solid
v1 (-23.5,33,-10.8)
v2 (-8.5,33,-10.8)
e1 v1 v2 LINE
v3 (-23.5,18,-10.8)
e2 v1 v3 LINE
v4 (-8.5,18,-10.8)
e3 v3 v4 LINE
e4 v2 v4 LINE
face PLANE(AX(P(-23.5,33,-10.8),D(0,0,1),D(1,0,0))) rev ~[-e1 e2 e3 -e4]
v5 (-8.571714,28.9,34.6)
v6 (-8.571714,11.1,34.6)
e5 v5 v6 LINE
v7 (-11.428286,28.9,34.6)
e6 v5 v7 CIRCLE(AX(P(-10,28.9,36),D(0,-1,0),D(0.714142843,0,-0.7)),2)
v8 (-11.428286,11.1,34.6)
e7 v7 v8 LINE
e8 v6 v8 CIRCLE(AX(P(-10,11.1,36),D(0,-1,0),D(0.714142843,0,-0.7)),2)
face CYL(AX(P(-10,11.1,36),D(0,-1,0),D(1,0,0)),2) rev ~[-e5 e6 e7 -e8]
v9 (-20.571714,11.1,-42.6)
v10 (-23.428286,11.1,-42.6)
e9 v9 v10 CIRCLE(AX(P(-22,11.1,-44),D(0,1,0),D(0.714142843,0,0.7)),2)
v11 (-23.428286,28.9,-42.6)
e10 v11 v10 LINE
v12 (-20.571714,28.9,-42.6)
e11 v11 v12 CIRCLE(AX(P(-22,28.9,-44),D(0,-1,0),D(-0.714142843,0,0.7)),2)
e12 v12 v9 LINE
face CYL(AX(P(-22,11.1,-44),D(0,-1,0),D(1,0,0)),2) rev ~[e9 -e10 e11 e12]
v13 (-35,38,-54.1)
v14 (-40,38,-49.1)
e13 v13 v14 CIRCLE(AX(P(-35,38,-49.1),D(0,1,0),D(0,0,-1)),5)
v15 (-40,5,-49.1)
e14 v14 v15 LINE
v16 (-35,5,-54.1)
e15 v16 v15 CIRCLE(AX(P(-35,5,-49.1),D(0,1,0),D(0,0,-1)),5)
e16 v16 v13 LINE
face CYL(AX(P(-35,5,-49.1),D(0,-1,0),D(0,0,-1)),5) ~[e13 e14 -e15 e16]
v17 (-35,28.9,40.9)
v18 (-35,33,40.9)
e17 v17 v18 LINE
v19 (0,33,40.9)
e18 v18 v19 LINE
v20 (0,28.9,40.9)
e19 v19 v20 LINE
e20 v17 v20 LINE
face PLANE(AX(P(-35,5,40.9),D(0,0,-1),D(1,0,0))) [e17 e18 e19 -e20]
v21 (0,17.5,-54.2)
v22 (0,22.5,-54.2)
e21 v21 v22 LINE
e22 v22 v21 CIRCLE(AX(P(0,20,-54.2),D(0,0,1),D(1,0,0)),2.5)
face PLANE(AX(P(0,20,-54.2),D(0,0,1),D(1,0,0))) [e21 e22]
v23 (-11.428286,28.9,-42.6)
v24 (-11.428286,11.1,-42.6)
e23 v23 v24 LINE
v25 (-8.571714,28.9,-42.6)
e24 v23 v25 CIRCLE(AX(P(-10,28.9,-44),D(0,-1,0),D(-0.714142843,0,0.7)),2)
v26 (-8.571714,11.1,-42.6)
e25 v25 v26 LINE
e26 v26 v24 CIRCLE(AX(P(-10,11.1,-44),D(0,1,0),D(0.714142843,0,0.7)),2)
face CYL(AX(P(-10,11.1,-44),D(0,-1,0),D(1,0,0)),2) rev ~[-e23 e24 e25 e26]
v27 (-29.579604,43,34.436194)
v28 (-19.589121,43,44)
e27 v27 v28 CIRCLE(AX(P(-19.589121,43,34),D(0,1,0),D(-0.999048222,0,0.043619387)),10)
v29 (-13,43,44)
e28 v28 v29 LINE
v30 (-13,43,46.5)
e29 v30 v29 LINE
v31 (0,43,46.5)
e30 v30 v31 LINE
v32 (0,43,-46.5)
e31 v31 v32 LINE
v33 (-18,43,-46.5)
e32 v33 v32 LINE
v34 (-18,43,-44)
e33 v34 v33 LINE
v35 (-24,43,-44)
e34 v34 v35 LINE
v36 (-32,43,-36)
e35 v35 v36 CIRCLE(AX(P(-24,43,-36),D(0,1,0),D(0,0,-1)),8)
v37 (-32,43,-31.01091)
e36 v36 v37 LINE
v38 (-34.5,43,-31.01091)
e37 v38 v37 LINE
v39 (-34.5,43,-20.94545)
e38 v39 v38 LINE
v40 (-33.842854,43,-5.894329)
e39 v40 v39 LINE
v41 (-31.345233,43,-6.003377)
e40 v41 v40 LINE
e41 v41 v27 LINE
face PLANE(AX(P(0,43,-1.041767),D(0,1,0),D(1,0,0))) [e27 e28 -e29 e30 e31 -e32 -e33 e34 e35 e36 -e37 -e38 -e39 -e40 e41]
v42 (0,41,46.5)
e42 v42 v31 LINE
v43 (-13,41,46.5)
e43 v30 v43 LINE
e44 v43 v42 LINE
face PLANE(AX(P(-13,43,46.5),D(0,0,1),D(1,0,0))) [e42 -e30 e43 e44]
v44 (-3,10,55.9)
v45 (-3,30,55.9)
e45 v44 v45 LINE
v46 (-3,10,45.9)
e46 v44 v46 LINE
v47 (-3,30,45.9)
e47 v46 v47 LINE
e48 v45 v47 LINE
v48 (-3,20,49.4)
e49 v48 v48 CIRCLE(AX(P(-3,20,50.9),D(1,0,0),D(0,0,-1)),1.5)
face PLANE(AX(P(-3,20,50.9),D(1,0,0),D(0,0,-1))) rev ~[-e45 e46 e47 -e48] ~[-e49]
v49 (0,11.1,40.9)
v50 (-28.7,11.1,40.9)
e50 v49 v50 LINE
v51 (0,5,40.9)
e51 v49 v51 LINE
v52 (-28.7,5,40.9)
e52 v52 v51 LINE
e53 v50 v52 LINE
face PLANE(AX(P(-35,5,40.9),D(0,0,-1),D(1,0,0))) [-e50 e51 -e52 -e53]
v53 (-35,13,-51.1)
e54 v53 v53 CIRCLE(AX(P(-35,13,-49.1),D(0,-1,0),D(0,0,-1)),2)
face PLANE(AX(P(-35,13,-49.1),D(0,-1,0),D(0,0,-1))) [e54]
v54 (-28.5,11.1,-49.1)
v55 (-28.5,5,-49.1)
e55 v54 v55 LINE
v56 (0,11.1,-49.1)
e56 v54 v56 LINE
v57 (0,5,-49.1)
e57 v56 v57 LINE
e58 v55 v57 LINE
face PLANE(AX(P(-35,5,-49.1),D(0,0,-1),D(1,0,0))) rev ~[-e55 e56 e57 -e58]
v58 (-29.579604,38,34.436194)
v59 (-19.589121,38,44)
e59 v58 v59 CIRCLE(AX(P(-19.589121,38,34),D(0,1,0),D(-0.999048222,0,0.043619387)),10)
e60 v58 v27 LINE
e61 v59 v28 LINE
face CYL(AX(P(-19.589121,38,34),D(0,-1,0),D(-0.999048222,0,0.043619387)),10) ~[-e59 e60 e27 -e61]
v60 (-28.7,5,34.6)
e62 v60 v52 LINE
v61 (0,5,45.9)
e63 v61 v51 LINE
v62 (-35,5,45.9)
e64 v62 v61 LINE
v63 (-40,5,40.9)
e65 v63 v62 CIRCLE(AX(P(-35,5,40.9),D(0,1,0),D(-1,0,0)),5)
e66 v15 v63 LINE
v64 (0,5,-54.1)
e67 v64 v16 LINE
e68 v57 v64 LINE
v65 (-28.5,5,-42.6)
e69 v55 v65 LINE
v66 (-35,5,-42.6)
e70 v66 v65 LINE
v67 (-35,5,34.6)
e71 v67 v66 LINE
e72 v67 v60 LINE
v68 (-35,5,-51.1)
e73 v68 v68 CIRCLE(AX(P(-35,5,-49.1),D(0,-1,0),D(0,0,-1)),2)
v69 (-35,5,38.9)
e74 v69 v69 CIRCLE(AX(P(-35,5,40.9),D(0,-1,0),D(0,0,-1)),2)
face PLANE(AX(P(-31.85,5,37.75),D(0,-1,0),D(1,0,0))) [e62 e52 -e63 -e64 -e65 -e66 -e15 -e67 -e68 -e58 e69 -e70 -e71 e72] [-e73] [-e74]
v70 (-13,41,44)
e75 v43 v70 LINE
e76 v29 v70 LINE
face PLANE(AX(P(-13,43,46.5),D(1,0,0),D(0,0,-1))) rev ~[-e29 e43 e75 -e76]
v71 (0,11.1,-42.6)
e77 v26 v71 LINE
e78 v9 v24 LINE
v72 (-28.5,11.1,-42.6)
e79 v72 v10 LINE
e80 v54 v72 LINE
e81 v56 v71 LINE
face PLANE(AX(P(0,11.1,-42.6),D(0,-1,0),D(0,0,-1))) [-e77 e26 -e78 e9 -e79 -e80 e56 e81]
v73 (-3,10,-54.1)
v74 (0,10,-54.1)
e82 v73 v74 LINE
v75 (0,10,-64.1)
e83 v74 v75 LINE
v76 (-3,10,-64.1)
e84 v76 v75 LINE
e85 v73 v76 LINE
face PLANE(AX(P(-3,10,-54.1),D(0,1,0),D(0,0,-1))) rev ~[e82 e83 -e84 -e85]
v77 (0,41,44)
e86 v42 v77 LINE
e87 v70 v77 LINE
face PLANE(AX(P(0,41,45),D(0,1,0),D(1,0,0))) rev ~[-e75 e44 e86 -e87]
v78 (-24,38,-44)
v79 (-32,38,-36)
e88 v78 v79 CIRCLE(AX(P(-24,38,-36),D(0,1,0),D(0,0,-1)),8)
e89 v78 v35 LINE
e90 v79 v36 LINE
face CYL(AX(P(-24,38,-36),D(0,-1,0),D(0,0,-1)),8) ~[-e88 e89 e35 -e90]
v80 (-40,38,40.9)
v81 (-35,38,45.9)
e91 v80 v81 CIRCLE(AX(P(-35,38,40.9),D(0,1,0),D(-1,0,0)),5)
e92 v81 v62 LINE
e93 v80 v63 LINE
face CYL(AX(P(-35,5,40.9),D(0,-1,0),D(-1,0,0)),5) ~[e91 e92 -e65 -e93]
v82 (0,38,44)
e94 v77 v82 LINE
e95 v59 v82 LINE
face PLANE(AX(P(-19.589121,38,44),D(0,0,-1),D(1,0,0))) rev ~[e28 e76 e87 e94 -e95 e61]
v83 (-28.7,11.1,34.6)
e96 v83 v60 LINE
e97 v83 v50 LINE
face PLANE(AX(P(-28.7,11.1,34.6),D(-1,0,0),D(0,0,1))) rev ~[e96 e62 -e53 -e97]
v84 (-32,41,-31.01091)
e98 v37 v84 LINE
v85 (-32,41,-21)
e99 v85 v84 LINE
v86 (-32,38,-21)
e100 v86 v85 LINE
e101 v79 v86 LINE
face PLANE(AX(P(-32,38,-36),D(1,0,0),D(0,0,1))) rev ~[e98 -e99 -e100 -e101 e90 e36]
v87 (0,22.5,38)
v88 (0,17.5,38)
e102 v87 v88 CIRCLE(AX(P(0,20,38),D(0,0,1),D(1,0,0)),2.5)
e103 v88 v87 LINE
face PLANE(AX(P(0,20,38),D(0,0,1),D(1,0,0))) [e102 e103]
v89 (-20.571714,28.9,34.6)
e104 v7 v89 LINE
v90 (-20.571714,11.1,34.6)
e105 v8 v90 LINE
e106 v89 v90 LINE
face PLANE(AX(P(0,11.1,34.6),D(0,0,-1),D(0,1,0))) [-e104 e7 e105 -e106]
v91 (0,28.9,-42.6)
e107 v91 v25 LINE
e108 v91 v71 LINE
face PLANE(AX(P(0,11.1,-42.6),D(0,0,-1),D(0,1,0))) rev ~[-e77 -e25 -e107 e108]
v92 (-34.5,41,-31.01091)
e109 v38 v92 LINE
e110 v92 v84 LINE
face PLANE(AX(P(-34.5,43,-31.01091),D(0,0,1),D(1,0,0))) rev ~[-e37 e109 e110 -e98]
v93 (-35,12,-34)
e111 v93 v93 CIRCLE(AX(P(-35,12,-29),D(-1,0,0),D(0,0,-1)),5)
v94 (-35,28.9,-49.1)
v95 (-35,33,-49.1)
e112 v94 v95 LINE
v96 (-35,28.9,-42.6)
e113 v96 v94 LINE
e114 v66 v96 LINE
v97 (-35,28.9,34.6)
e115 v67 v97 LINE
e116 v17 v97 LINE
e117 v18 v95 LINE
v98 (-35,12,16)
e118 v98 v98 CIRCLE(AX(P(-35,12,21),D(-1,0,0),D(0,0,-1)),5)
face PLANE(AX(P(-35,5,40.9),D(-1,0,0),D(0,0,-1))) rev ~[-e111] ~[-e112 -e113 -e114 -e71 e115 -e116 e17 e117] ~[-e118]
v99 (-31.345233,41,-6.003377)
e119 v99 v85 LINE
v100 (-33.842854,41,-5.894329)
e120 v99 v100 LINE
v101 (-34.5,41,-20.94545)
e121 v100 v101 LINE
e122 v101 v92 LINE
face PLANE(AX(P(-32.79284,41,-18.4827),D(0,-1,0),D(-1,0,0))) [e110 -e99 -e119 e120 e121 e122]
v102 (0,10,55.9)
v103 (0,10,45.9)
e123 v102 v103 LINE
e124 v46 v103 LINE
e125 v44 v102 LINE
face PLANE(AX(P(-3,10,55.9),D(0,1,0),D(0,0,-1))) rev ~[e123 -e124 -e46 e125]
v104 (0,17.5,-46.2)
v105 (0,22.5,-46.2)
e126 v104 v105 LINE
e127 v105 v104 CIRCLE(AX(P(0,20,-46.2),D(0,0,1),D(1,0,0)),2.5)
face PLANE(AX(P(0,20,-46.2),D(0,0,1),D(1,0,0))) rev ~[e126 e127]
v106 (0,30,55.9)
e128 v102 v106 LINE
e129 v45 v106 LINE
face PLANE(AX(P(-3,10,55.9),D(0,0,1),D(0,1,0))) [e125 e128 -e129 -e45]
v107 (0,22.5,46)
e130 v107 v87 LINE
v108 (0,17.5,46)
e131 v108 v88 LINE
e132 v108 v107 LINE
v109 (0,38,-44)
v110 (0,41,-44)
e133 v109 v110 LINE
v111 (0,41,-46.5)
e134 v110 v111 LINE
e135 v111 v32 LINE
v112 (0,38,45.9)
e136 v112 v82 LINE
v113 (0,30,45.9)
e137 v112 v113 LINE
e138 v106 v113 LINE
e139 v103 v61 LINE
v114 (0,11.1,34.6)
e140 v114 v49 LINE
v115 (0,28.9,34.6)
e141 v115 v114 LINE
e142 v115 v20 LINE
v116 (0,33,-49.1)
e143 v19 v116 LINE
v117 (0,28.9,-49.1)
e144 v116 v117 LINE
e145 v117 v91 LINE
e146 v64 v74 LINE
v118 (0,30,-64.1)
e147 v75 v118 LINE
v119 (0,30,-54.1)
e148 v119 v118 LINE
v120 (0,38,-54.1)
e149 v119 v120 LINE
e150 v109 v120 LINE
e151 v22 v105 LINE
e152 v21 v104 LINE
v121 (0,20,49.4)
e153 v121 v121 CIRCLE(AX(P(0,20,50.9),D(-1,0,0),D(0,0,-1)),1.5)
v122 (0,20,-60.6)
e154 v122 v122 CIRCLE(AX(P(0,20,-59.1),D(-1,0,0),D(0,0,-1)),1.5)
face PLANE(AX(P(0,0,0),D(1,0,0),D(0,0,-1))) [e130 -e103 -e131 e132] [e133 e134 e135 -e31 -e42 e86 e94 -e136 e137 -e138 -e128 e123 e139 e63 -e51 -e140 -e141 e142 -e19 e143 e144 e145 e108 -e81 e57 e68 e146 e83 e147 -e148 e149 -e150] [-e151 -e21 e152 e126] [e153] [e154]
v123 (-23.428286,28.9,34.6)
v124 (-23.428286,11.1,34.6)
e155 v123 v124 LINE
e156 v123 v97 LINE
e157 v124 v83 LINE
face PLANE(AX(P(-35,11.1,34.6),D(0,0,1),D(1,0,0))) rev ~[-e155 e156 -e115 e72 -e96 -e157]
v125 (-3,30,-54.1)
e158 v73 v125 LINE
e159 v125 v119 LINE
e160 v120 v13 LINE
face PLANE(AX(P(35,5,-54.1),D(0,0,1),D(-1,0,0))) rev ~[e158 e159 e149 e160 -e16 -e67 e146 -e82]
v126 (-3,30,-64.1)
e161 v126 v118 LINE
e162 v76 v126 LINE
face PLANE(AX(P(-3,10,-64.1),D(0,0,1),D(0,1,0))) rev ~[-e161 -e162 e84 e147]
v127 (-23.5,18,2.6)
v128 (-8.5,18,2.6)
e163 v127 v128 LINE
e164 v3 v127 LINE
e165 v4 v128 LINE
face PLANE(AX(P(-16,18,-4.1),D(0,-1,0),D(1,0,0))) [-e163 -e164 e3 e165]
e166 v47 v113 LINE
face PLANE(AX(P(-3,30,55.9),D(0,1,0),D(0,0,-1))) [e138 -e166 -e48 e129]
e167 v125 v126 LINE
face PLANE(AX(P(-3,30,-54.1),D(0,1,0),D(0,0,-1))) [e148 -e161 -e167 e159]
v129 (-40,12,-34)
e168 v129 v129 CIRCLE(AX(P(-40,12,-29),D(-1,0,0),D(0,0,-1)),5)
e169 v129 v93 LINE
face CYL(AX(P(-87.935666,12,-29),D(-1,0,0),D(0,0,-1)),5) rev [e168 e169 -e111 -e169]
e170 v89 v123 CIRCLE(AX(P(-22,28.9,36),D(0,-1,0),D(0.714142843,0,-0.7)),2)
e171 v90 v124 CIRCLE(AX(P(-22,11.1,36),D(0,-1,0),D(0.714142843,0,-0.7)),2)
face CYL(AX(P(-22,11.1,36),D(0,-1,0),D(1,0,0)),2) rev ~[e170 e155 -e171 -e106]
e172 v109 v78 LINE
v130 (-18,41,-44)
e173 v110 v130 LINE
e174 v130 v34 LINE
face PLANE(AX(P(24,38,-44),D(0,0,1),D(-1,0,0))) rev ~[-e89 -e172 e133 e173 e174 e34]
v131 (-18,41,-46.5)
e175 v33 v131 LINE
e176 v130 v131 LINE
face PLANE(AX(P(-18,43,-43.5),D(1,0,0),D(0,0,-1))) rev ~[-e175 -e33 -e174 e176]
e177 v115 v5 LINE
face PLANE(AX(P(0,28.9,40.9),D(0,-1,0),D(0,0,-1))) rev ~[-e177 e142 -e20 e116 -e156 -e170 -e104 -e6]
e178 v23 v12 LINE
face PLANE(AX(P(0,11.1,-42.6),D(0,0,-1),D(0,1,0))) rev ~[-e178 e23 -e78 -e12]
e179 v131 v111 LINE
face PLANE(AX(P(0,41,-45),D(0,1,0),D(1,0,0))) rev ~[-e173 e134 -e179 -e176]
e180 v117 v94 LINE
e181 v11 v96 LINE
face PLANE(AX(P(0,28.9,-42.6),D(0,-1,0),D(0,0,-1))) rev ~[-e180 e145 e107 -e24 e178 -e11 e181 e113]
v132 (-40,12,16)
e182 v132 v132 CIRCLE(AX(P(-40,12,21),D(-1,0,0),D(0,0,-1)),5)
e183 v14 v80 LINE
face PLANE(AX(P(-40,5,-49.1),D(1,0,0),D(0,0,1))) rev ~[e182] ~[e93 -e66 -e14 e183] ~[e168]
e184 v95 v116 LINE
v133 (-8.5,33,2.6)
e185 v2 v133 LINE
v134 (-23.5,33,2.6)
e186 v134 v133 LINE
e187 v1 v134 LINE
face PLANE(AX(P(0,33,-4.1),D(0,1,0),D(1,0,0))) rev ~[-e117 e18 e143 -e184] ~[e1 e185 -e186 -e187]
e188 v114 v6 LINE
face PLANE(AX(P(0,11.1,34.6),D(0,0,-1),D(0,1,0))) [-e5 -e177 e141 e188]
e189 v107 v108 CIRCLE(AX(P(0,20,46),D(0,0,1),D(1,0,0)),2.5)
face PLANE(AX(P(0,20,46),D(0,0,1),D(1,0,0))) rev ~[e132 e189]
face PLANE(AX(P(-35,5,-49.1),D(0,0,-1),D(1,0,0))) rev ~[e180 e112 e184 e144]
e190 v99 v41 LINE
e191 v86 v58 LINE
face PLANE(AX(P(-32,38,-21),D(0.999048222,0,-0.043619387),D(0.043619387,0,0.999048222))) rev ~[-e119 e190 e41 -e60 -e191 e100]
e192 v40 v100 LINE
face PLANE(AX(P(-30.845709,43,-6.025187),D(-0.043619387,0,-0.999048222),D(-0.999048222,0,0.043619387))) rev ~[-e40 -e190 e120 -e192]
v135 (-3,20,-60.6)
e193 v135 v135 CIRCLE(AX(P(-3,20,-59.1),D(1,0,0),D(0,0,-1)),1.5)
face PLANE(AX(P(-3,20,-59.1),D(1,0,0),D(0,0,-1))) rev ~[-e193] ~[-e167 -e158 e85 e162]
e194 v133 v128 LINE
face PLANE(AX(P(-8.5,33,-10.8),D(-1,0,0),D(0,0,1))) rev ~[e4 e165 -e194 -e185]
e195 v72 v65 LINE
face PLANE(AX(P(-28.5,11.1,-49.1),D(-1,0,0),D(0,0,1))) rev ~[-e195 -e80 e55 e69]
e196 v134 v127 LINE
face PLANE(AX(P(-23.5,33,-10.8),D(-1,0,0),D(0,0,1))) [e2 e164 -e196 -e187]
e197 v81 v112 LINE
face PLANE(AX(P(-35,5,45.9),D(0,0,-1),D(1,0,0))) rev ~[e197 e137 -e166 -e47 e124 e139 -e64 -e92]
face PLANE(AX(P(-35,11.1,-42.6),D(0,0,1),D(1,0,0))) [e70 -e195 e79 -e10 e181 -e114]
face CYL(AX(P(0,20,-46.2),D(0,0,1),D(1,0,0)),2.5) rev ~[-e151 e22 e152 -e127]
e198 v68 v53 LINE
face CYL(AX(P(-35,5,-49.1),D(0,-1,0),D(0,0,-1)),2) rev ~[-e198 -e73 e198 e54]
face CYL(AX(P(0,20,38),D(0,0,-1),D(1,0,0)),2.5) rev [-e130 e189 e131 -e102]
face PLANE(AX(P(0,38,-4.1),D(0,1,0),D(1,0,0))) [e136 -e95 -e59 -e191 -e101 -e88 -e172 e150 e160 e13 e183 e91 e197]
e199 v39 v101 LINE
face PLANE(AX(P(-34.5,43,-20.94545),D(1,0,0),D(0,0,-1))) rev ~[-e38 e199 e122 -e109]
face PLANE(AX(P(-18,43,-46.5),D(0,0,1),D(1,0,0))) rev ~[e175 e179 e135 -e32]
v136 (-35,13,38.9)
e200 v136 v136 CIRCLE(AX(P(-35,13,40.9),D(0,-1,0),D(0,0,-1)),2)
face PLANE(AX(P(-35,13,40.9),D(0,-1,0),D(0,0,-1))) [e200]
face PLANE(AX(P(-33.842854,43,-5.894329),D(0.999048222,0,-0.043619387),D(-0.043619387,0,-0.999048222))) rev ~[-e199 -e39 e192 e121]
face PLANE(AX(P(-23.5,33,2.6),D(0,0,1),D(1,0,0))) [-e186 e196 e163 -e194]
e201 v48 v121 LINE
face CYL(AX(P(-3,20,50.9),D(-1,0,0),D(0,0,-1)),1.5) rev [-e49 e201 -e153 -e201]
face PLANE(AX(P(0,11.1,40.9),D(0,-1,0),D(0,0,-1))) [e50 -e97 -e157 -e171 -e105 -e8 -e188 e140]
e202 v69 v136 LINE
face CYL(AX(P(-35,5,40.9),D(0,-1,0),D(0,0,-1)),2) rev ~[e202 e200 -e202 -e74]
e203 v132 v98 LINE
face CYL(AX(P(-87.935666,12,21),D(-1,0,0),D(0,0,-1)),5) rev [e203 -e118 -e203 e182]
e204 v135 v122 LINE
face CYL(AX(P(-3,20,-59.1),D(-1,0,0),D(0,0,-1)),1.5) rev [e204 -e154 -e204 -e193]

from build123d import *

# Parameters (mm, degrees)
SKETCH8_R                        = 10
BOSS_EXTRUDE6_DEPTH              = 5
BOSS_EXTRUDE7_START              = 5
BOSS_EXTRUDE7_DEPTH              = 5
EXTRUDE_THIN4_DEPTH              = 8
EXTRUDE_THIN4_DEPTH_BACK         = 20
SKETCH2_W                        = 70
SKETCH2_H                        = 90
BOSS_EXTRUDE8_DEPTH              = 5
BOSS_EXTRUDE9_DEPTH              = 5
BOSS_EXTRUDE10_REACH             = 81.849
SKETCH13_W                       = 6.5
SKETCH13_H                       = 17.8
SKETCH13_W_2                     = 6.3
BOSS_EXTRUDE10_DIRECTION_2_REACH = 81.849
SKETCH15_R                       = 2
CUT_EXTRUDE1_DEPTH               = 17.8
SKETCH17_W                       = 36
SKETCH17_H                       = 3
SKETCH17_W_2                     = 26
BOSS_EXTRUDE11_DEPTH             = 2
SKETCH18_W                       = 36
SKETCH18_H                       = 3
SKETCH18_W_2                     = 26
BOSS_EXTRUDE12_DEPTH             = 2
BOSS_EXTRUDE13_DEPTH             = 3
BOSS_EXTRUDE13_DEPTH_BACK        = 3
SKETCH19_W                       = 10
SKETCH19_H                       = 20
SKETCH19_R                       = 1.5
SKETCH21_R                       = 2.5
CUT_EXTRUDE5_DEPTH               = 8
SKETCH23_R                       = 2.5
CUT_EXTRUDE6_DEPTH               = 8
SKETCH24_W                       = 150
SKETCH24_H                       = 150
CUT_EXTRUDE7_DEPTH               = 85.574286873
SKETCH25_W                       = 150
SKETCH25_H                       = 150
CUT_EXTRUDE8_DEPTH               = 87.935665869
SKETCH26_W                       = 6.3
SKETCH26_H                       = 6.3
SKETCH26_W_2                     = 6.5
SKETCH26_H_2                     = 6.5
BOSS_EXTRUDE14_DEPTH             = 6.1
SKETCH27_R                       = 2
CUT_EXTRUDE9_DEPTH               = 8
SKETCH28_W                       = 15
SKETCH28_H                       = 13.4
BOSS_EXTRUDE15_DEPTH             = 15
CUT_EXTRUDE10_DEPTH              = 87.935665869
CUT_EXTRUDE10_DEPTH_BACK         = 87.935665869
SKETCH29_R                       = 5


with BuildPart() as part:
    # Sketch8 → Boss-Extrude6 (new body)
    with BuildSketch(Plane(origin=(0, 0, 0), x_dir=(-1, 0, 0), z_dir=(0, 1, 0))):
        with BuildLine():
            Line((32, -36), (32, -21))
            Line((32, -21), (29.579603504, 34.436193874))
            ThreePointArc((29.579603504, 34.436193874), (26.504251846, 41.223639621), (19.589121288, 44))
            Line((19.589121288, 44), (-19.589121288, 44))
            ThreePointArc((-19.589121288, 44), (-26.504251846, 41.223639621), (-29.579603504, 34.436193874))
            Line((-29.579603504, 34.436193874), (-32, -21))
            Line((-32, -21), (-32, -36))
            ThreePointArc((-32, -36), (-29.656854249, -41.656854249), (-24, -44))
            Line((-24, -44), (24, -44))
            ThreePointArc((24, -44), (29.656854249, -41.656854249), (32, -36))
        make_face()
        with Locations(Location((15.9, 11.8, 0), (0, 0, 90))):
            Circle(SKETCH8_R, mode=Mode.SUBTRACT)
        with Locations(Location((-15.9, 11.8, 0), (0, 0, 90))):
            Circle(SKETCH8_R, mode=Mode.SUBTRACT)
        with Locations(Location((15.9, -20, 0), (0, 0, 90))):
            Circle(SKETCH8_R, mode=Mode.SUBTRACT)
        with Locations(Location((-15.9, -20, 0), (0, 0, 90))):
            Circle(SKETCH8_R, mode=Mode.SUBTRACT)
    extrude(amount=-BOSS_EXTRUDE6_DEPTH)

    # Sketch1 → Boss-Extrude7 (add)
    # profile 1 of 2: a face of its own
    with BuildSketch(Plane(origin=(0, 0, 0), x_dir=(1, 0, 0), z_dir=(0, 1, 0)).offset(BOSS_EXTRUDE7_START)):
        with BuildLine():
            Line((-35, 54.1), (35, 54.1))
            ThreePointArc((35, 54.1), (38.535533906, 52.635533906), (40, 49.1))
            Line((40, 49.1), (40, -40.9))
            ThreePointArc((40, -40.9), (38.535533906, -44.435533906), (35, -45.9))
            Line((35, -45.9), (-35, -45.9))
            ThreePointArc((-35, -45.9), (-38.535533906, -44.435533906), (-40, -40.9))
            Line((-40, -40.9), (-40, 49.1))
            ThreePointArc((-40, 49.1), (-38.535533906, 52.635533906), (-35, 54.1))
        make_face()
        with BuildLine():
            ThreePointArc((32, 36), (29.656854249, 41.656854249), (24, 44))
            Line((24, 44), (-24, 44))
            ThreePointArc((-24, 44), (-29.656854249, 41.656854249), (-32, 36))
            Line((-32, 36), (-32, 21))
            Line((-32, 21), (-29.579603504, -34.436193874))
            ThreePointArc((-29.579603504, -34.436193874), (-26.504251846, -41.223639621), (-19.589121288, -44))
            Line((-19.589121288, -44), (19.589121288, -44))
            ThreePointArc((19.589121288, -44), (26.504251846, -41.223639621), (29.579603504, -34.436193874))
            Line((29.579603504, -34.436193874), (32, 21))
            Line((32, 21), (32, 36))
        make_face(mode=Mode.SUBTRACT)
    # profile 2 of 2: a face of its own
    with BuildSketch(Plane(origin=(0, 0, 0), x_dir=(1, 0, 0), z_dir=(0, 1, 0)).offset(BOSS_EXTRUDE7_START)):
        with BuildLine():
            Line((32, 36), (32, 21))
            Line((32, 21), (29.579603504, -34.436193874))
            ThreePointArc((29.579603504, -34.436193874), (26.504251846, -41.223639621), (19.589121288, -44))
            Line((19.589121288, -44), (-19.589121288, -44))
            ThreePointArc((-19.589121288, -44), (-26.504251846, -41.223639621), (-29.579603504, -34.436193874))
            Line((-29.579603504, -34.436193874), (-32, 21))
            Line((-32, 21), (-32, 36))
            ThreePointArc((-32, 36), (-29.656854249, 41.656854249), (-24, 44))
            Line((-24, 44), (24, 44))
            ThreePointArc((24, 44), (29.656854249, 41.656854249), (32, 36))
        make_face()
        with BuildLine():
            ThreePointArc((-24, 41), (-27.535533906, 39.535533906), (-29, 36))
            Line((-29, 36), (-29, 21.065460233))
            Line((-29, 21.065460233), (-26.582458839, -34.305335712))
            ThreePointArc((-26.582458839, -34.305335712), (-24.429712679, -39.056547734), (-19.589121288, -41))
            Line((-19.589121288, -41), (19.589121288, -41))
            ThreePointArc((19.589121288, -41), (24.429712679, -39.056547734), (26.582458839, -34.305335712))
            Line((26.582458839, -34.305335712), (29, 21.065460233))
            Line((29, 21.065460233), (29, 36))
            ThreePointArc((29, 36), (27.535533906, 39.535533906), (24, 41))
            Line((24, 41), (-24, 41))
        make_face(mode=Mode.SUBTRACT)
    extrude(amount=-BOSS_EXTRUDE7_DEPTH)

    # Sketch17 → Boss-Extrude11 (add)
    with BuildSketch(Plane(origin=(0, -5, 0), x_dir=(1, 0, 0), z_dir=(0, 1, 0))):
        with Locations((0, 45)):
            Rectangle(SKETCH17_W, SKETCH17_H)
        with Locations((0, -45)):
            Rectangle(SKETCH17_W_2, SKETCH17_H)
        Polygon((-31.5, 21.010910039), (-30.84570919, 6.025186715), (-33.842853854, 5.894328553), (-34.5, 20.945449806), (-34.5, 31.010910039), (-31.5, 31.010910039), align=None)
        Polygon((31.5, 21.010910039), (31.5, 31.010910039), (34.5, 31.010910039), (34.5, 20.945449806), (33.842853854, 5.894328553), (30.84570919, 6.025186715), align=None)
    extrude(amount=BOSS_EXTRUDE11_DEPTH)

    # Sketch24 → Cut-Extrude7 (cut, through all)
    with BuildSketch(Plane(origin=(0, 5, 0), x_dir=(1, 0, 0), z_dir=(0, 1, 0))):
        Rectangle(SKETCH24_W, SKETCH24_H)
    extrude(amount=-CUT_EXTRUDE7_DEPTH, mode=Mode.SUBTRACT)


with BuildPart() as body_2:
    # Sketch2 → Extrude-Thin4 (new, two sides: drawn at the far end of the back side and taken through both)
    with BuildSketch(Plane(origin=(0, 25, 0), x_dir=(1, 0, 0), z_dir=(0, 1, 0)).offset(-EXTRUDE_THIN4_DEPTH_BACK)):
        with BuildLine():
            Line((-40, 49.1), (-40, -40.9))
            ThreePointArc((-40, -40.9), (-38.535533906, -44.435533906), (-35, -45.9))
            Line((-35, -45.9), (35, -45.9))
            ThreePointArc((35, -45.9), (38.535533906, -44.435533906), (40, -40.9))
            Line((40, -40.9), (40, 49.1))
            ThreePointArc((40, 49.1), (38.535533906, 52.635533906), (35, 54.1))
            Line((35, 54.1), (-35, 54.1))
            ThreePointArc((-35, 54.1), (-38.535533906, 52.635533906), (-40, 49.1))
        make_face()
        with Locations((0, 4.1)):
            Rectangle(SKETCH2_W, SKETCH2_H, mode=Mode.SUBTRACT)
    extrude(amount=EXTRUDE_THIN4_DEPTH + EXTRUDE_THIN4_DEPTH_BACK)

    # Sketch13 → Boss-Extrude10 (add, up to next)
    with BuildSketch(Plane(origin=(0, 0, 0), x_dir=(0, 0, -1), z_dir=(1, 0, 0)), mode=Mode.PRIVATE) as boss_extrude10_sk1:
        with Locations((45.85, 20)):
            Rectangle(SKETCH13_W, SKETCH13_H)
    boss_extrude10_tool1 = extrude(boss_extrude10_sk1.sketch, amount=BOSS_EXTRUDE10_REACH, mode=Mode.PRIVATE) - body_2.part
    # Sketch13 → Boss-Extrude10 (add, up to next)
    with BuildSketch(Plane(origin=(0, 0, 0), x_dir=(0, 0, -1), z_dir=(1, 0, 0)), mode=Mode.PRIVATE) as boss_extrude10_sk2:
        with Locations((-37.75, 20)):
            Rectangle(SKETCH13_W_2, SKETCH13_H)
    boss_extrude10_tool2 = extrude(boss_extrude10_sk2.sketch, amount=BOSS_EXTRUDE10_REACH, mode=Mode.PRIVATE) - body_2.part
    add(boss_extrude10_tool1.solids().sort_by_distance((0, 20, -45.85))[0])
    add(boss_extrude10_tool2.solids().sort_by_distance((0, 20, 37.75))[0])

    # Sketch13 → Boss-Extrude10 direction 2 (add, up to next)
    with BuildSketch(Plane(origin=(0, 0, 0), x_dir=(0, 0, -1), z_dir=(1, 0, 0)), mode=Mode.PRIVATE) as boss_extrude10_direction_2_sk1:
        with Locations((45.85, 20)):
            Rectangle(SKETCH13_W, SKETCH13_H)
    boss_extrude10_direction_2_tool1 = extrude(boss_extrude10_direction_2_sk1.sketch, amount=-BOSS_EXTRUDE10_DIRECTION_2_REACH, mode=Mode.PRIVATE) - body_2.part
    # Sketch13 → Boss-Extrude10 direction 2 (add, up to next)
    with BuildSketch(Plane(origin=(0, 0, 0), x_dir=(0, 0, -1), z_dir=(1, 0, 0)), mode=Mode.PRIVATE) as boss_extrude10_direction_2_sk2:
        with Locations((-37.75, 20)):
            Rectangle(SKETCH13_W_2, SKETCH13_H)
    boss_extrude10_direction_2_tool2 = extrude(boss_extrude10_direction_2_sk2.sketch, amount=-BOSS_EXTRUDE10_DIRECTION_2_REACH, mode=Mode.PRIVATE) - body_2.part
    add(boss_extrude10_direction_2_tool1.solids().sort_by_distance((0, 20, -45.85))[0])
    add(boss_extrude10_direction_2_tool2.solids().sort_by_distance((0, 20, 37.75))[0])

    # Sketch15 → Cut-Extrude1 (cut)
    with BuildSketch(Plane.XZ.offset(-11.1)):
        with Locations((-22, -44)):
            Circle(SKETCH15_R)
        with Locations((-10, -44)):
            Circle(SKETCH15_R)
        with Locations((-22, 36)):
            Circle(SKETCH15_R)
        with Locations((-10, 36)):
            Circle(SKETCH15_R)
        with Locations((10, 36)):
            Circle(SKETCH15_R)
        with Locations((22, 36)):
            Circle(SKETCH15_R)
        with Locations((10, -44)):
            Circle(SKETCH15_R)
        with Locations((22, -44)):
            Circle(SKETCH15_R)
    extrude(amount=-CUT_EXTRUDE1_DEPTH, mode=Mode.SUBTRACT)

    # Sketch19 → Boss-Extrude13 (add, two sides: drawn at the far end of the back side and taken through both)
    # profile 1 of 2: a face of its own
    with BuildSketch(Plane(origin=(0, 0, 0), x_dir=(0, 0, -1), z_dir=(1, 0, 0)).offset(-BOSS_EXTRUDE13_DEPTH_BACK)):
        with Locations((-50.9, 20)):
            Rectangle(SKETCH19_W, SKETCH19_H)
        with Locations((-50.9, 20)):
            Circle(SKETCH19_R, mode=Mode.SUBTRACT)
    # profile 2 of 2: a face of its own
    with BuildSketch(Plane(origin=(0, 0, 0), x_dir=(0, 0, -1), z_dir=(1, 0, 0)).offset(-BOSS_EXTRUDE13_DEPTH_BACK)):
        with Locations((59.1, 20)):
            Rectangle(SKETCH19_W, SKETCH19_H)
        with Locations((59.1, 20)):
            Circle(SKETCH19_R, mode=Mode.SUBTRACT)
    extrude(amount=BOSS_EXTRUDE13_DEPTH + BOSS_EXTRUDE13_DEPTH_BACK)

    # Sketch21 → Cut-Extrude5 (cut)
    with BuildSketch(Plane.XY.offset(38)):
        with Locations((0, 20)):
            Circle(SKETCH21_R)
    extrude(amount=CUT_EXTRUDE5_DEPTH, mode=Mode.SUBTRACT)

    # Sketch23 → Cut-Extrude6 (cut)
    with BuildSketch(Plane.XY.offset(-46.2)):
        with Locations((0, 20)):
            Circle(SKETCH23_R)
    extrude(amount=-CUT_EXTRUDE6_DEPTH, mode=Mode.SUBTRACT)


with BuildPart() as body_3:
    # Sketch10 → Boss-Extrude8 (new body)
    with BuildSketch(Plane(origin=(0, 38, 0), x_dir=(1, 0, 0), z_dir=(0, 1, 0))):
        with BuildLine():
            Line((-32, 36), (-32, 21))
            Line((-32, 21), (-29.579603504, -34.436193874))
            ThreePointArc((-29.579603504, -34.436193874), (-26.504251846, -41.223639621), (-19.589121288, -44))
            Line((-19.589121288, -44), (19.589121288, -44))
            ThreePointArc((19.589121288, -44), (26.504251846, -41.223639621), (29.579603504, -34.436193874))
            Line((29.579603504, -34.436193874), (32, 21))
            Line((32, 21), (32, 36))
            ThreePointArc((32, 36), (29.656854249, 41.656854249), (24, 44))
            Line((24, 44), (-24, 44))
            ThreePointArc((-24, 44), (-29.656854249, 41.656854249), (-32, 36))
        make_face()
    extrude(amount=BOSS_EXTRUDE8_DEPTH)

    # Sketch11 → Boss-Extrude9 (add)
    with BuildSketch(Plane(origin=(0, 38, 0), x_dir=(1, 0, 0), z_dir=(0, 1, 0))):
        with BuildLine():
            Line((-35, -45.9), (35, -45.9))
            ThreePointArc((35, -45.9), (38.535533906, -44.435533906), (40, -40.9))
            Line((40, -40.9), (40, 49.1))
            ThreePointArc((40, 49.1), (38.535533906, 52.635533906), (35, 54.1))
            Line((35, 54.1), (-35, 54.1))
            ThreePointArc((-35, 54.1), (-38.535533906, 52.635533906), (-40, 49.1))
            Line((-40, 49.1), (-40, -40.9))
            ThreePointArc((-40, -40.9), (-38.535533906, -44.435533906), (-35, -45.9))
        make_face()
    extrude(amount=-BOSS_EXTRUDE9_DEPTH)

    # Sketch18 → Boss-Extrude12 (add)
    with BuildSketch(Plane(origin=(0, 43, 0), x_dir=(1, 0, 0), z_dir=(0, 1, 0))):
        with Locations((0, 45)):
            Rectangle(SKETCH18_W, SKETCH18_H)
        with Locations((0, -45)):
            Rectangle(SKETCH18_W_2, SKETCH18_H)
        Polygon((-31.5, 21.010910039), (-30.84570919, 6.025186715), (-33.842853854, 5.894328553), (-34.5, 20.945449806), (-34.5, 31.010910039), (-31.5, 31.010910039), align=None)
        Polygon((31.5, 21.010910039), (31.5, 31.010910039), (34.5, 31.010910039), (34.5, 20.945449806), (33.842853854, 5.894328553), (30.84570919, 6.025186715), align=None)
    extrude(amount=-BOSS_EXTRUDE12_DEPTH)


with BuildPart() as cut_extrude8_tool:
    # Sketch25 → Cut-Extrude8 (new, through all)
    with BuildSketch(Plane(origin=(0, 0, 0), x_dir=(0, 0, -1), z_dir=(1, 0, 0))):
        Rectangle(SKETCH25_W, SKETCH25_H)
    extrude(amount=CUT_EXTRUDE8_DEPTH)


with BuildPart() as body_2_1:
    add(body_2.part)

    # Cut-Extrude8: cut by cut_extrude8_tool
    add(cut_extrude8_tool.part, mode=Mode.SUBTRACT)

    # Sketch26 → Boss-Extrude14 (add)
    with BuildSketch(Plane.XZ.offset(-11.1)):
        with Locations((-31.85, 37.75)):
            Rectangle(SKETCH26_W, SKETCH26_H)
        with Locations((-31.75, -45.85)):
            Rectangle(SKETCH26_W_2, SKETCH26_H_2)
    extrude(amount=BOSS_EXTRUDE14_DEPTH)

    # Sketch27 → Cut-Extrude9 (cut)
    with BuildSketch(Plane.XZ.offset(-5)):
        with Locations(Location((-35, 40.9, 0), (0, 0, 270))):
            Circle(SKETCH27_R)
        with Locations(Location((-35, -49.1, 0), (0, 0, 270))):
            Circle(SKETCH27_R)
    extrude(amount=-CUT_EXTRUDE9_DEPTH, mode=Mode.SUBTRACT)


with BuildPart() as body_3_1:
    add(body_3.part)

    # Cut-Extrude8: cut by cut_extrude8_tool
    add(cut_extrude8_tool.part, mode=Mode.SUBTRACT)


    add(body_2_1.part)  # Boss-Extrude15 merges body 2
    # Sketch28 → Boss-Extrude15 (add)
    with BuildSketch(Plane.XZ.offset(-33)):
        with Locations((-16, -4.1)):
            Rectangle(SKETCH28_W, SKETCH28_H)
    extrude(amount=BOSS_EXTRUDE15_DEPTH)

    # Sketch29 → Cut-Extrude10 (cut, two sides: drawn at the far end of the back side and taken through both)
    with BuildSketch(Plane(origin=(0, 0, 0), x_dir=(0, 0, -1), z_dir=(1, 0, 0)).offset(-CUT_EXTRUDE10_DEPTH_BACK)):
        with Locations((-21, 12)):
            Circle(SKETCH29_R)
        with Locations((29, 12)):
            Circle(SKETCH29_R)
    extrude(amount=CUT_EXTRUDE10_DEPTH + CUT_EXTRUDE10_DEPTH_BACK, mode=Mode.SUBTRACT)


solid = body_3_1.part
